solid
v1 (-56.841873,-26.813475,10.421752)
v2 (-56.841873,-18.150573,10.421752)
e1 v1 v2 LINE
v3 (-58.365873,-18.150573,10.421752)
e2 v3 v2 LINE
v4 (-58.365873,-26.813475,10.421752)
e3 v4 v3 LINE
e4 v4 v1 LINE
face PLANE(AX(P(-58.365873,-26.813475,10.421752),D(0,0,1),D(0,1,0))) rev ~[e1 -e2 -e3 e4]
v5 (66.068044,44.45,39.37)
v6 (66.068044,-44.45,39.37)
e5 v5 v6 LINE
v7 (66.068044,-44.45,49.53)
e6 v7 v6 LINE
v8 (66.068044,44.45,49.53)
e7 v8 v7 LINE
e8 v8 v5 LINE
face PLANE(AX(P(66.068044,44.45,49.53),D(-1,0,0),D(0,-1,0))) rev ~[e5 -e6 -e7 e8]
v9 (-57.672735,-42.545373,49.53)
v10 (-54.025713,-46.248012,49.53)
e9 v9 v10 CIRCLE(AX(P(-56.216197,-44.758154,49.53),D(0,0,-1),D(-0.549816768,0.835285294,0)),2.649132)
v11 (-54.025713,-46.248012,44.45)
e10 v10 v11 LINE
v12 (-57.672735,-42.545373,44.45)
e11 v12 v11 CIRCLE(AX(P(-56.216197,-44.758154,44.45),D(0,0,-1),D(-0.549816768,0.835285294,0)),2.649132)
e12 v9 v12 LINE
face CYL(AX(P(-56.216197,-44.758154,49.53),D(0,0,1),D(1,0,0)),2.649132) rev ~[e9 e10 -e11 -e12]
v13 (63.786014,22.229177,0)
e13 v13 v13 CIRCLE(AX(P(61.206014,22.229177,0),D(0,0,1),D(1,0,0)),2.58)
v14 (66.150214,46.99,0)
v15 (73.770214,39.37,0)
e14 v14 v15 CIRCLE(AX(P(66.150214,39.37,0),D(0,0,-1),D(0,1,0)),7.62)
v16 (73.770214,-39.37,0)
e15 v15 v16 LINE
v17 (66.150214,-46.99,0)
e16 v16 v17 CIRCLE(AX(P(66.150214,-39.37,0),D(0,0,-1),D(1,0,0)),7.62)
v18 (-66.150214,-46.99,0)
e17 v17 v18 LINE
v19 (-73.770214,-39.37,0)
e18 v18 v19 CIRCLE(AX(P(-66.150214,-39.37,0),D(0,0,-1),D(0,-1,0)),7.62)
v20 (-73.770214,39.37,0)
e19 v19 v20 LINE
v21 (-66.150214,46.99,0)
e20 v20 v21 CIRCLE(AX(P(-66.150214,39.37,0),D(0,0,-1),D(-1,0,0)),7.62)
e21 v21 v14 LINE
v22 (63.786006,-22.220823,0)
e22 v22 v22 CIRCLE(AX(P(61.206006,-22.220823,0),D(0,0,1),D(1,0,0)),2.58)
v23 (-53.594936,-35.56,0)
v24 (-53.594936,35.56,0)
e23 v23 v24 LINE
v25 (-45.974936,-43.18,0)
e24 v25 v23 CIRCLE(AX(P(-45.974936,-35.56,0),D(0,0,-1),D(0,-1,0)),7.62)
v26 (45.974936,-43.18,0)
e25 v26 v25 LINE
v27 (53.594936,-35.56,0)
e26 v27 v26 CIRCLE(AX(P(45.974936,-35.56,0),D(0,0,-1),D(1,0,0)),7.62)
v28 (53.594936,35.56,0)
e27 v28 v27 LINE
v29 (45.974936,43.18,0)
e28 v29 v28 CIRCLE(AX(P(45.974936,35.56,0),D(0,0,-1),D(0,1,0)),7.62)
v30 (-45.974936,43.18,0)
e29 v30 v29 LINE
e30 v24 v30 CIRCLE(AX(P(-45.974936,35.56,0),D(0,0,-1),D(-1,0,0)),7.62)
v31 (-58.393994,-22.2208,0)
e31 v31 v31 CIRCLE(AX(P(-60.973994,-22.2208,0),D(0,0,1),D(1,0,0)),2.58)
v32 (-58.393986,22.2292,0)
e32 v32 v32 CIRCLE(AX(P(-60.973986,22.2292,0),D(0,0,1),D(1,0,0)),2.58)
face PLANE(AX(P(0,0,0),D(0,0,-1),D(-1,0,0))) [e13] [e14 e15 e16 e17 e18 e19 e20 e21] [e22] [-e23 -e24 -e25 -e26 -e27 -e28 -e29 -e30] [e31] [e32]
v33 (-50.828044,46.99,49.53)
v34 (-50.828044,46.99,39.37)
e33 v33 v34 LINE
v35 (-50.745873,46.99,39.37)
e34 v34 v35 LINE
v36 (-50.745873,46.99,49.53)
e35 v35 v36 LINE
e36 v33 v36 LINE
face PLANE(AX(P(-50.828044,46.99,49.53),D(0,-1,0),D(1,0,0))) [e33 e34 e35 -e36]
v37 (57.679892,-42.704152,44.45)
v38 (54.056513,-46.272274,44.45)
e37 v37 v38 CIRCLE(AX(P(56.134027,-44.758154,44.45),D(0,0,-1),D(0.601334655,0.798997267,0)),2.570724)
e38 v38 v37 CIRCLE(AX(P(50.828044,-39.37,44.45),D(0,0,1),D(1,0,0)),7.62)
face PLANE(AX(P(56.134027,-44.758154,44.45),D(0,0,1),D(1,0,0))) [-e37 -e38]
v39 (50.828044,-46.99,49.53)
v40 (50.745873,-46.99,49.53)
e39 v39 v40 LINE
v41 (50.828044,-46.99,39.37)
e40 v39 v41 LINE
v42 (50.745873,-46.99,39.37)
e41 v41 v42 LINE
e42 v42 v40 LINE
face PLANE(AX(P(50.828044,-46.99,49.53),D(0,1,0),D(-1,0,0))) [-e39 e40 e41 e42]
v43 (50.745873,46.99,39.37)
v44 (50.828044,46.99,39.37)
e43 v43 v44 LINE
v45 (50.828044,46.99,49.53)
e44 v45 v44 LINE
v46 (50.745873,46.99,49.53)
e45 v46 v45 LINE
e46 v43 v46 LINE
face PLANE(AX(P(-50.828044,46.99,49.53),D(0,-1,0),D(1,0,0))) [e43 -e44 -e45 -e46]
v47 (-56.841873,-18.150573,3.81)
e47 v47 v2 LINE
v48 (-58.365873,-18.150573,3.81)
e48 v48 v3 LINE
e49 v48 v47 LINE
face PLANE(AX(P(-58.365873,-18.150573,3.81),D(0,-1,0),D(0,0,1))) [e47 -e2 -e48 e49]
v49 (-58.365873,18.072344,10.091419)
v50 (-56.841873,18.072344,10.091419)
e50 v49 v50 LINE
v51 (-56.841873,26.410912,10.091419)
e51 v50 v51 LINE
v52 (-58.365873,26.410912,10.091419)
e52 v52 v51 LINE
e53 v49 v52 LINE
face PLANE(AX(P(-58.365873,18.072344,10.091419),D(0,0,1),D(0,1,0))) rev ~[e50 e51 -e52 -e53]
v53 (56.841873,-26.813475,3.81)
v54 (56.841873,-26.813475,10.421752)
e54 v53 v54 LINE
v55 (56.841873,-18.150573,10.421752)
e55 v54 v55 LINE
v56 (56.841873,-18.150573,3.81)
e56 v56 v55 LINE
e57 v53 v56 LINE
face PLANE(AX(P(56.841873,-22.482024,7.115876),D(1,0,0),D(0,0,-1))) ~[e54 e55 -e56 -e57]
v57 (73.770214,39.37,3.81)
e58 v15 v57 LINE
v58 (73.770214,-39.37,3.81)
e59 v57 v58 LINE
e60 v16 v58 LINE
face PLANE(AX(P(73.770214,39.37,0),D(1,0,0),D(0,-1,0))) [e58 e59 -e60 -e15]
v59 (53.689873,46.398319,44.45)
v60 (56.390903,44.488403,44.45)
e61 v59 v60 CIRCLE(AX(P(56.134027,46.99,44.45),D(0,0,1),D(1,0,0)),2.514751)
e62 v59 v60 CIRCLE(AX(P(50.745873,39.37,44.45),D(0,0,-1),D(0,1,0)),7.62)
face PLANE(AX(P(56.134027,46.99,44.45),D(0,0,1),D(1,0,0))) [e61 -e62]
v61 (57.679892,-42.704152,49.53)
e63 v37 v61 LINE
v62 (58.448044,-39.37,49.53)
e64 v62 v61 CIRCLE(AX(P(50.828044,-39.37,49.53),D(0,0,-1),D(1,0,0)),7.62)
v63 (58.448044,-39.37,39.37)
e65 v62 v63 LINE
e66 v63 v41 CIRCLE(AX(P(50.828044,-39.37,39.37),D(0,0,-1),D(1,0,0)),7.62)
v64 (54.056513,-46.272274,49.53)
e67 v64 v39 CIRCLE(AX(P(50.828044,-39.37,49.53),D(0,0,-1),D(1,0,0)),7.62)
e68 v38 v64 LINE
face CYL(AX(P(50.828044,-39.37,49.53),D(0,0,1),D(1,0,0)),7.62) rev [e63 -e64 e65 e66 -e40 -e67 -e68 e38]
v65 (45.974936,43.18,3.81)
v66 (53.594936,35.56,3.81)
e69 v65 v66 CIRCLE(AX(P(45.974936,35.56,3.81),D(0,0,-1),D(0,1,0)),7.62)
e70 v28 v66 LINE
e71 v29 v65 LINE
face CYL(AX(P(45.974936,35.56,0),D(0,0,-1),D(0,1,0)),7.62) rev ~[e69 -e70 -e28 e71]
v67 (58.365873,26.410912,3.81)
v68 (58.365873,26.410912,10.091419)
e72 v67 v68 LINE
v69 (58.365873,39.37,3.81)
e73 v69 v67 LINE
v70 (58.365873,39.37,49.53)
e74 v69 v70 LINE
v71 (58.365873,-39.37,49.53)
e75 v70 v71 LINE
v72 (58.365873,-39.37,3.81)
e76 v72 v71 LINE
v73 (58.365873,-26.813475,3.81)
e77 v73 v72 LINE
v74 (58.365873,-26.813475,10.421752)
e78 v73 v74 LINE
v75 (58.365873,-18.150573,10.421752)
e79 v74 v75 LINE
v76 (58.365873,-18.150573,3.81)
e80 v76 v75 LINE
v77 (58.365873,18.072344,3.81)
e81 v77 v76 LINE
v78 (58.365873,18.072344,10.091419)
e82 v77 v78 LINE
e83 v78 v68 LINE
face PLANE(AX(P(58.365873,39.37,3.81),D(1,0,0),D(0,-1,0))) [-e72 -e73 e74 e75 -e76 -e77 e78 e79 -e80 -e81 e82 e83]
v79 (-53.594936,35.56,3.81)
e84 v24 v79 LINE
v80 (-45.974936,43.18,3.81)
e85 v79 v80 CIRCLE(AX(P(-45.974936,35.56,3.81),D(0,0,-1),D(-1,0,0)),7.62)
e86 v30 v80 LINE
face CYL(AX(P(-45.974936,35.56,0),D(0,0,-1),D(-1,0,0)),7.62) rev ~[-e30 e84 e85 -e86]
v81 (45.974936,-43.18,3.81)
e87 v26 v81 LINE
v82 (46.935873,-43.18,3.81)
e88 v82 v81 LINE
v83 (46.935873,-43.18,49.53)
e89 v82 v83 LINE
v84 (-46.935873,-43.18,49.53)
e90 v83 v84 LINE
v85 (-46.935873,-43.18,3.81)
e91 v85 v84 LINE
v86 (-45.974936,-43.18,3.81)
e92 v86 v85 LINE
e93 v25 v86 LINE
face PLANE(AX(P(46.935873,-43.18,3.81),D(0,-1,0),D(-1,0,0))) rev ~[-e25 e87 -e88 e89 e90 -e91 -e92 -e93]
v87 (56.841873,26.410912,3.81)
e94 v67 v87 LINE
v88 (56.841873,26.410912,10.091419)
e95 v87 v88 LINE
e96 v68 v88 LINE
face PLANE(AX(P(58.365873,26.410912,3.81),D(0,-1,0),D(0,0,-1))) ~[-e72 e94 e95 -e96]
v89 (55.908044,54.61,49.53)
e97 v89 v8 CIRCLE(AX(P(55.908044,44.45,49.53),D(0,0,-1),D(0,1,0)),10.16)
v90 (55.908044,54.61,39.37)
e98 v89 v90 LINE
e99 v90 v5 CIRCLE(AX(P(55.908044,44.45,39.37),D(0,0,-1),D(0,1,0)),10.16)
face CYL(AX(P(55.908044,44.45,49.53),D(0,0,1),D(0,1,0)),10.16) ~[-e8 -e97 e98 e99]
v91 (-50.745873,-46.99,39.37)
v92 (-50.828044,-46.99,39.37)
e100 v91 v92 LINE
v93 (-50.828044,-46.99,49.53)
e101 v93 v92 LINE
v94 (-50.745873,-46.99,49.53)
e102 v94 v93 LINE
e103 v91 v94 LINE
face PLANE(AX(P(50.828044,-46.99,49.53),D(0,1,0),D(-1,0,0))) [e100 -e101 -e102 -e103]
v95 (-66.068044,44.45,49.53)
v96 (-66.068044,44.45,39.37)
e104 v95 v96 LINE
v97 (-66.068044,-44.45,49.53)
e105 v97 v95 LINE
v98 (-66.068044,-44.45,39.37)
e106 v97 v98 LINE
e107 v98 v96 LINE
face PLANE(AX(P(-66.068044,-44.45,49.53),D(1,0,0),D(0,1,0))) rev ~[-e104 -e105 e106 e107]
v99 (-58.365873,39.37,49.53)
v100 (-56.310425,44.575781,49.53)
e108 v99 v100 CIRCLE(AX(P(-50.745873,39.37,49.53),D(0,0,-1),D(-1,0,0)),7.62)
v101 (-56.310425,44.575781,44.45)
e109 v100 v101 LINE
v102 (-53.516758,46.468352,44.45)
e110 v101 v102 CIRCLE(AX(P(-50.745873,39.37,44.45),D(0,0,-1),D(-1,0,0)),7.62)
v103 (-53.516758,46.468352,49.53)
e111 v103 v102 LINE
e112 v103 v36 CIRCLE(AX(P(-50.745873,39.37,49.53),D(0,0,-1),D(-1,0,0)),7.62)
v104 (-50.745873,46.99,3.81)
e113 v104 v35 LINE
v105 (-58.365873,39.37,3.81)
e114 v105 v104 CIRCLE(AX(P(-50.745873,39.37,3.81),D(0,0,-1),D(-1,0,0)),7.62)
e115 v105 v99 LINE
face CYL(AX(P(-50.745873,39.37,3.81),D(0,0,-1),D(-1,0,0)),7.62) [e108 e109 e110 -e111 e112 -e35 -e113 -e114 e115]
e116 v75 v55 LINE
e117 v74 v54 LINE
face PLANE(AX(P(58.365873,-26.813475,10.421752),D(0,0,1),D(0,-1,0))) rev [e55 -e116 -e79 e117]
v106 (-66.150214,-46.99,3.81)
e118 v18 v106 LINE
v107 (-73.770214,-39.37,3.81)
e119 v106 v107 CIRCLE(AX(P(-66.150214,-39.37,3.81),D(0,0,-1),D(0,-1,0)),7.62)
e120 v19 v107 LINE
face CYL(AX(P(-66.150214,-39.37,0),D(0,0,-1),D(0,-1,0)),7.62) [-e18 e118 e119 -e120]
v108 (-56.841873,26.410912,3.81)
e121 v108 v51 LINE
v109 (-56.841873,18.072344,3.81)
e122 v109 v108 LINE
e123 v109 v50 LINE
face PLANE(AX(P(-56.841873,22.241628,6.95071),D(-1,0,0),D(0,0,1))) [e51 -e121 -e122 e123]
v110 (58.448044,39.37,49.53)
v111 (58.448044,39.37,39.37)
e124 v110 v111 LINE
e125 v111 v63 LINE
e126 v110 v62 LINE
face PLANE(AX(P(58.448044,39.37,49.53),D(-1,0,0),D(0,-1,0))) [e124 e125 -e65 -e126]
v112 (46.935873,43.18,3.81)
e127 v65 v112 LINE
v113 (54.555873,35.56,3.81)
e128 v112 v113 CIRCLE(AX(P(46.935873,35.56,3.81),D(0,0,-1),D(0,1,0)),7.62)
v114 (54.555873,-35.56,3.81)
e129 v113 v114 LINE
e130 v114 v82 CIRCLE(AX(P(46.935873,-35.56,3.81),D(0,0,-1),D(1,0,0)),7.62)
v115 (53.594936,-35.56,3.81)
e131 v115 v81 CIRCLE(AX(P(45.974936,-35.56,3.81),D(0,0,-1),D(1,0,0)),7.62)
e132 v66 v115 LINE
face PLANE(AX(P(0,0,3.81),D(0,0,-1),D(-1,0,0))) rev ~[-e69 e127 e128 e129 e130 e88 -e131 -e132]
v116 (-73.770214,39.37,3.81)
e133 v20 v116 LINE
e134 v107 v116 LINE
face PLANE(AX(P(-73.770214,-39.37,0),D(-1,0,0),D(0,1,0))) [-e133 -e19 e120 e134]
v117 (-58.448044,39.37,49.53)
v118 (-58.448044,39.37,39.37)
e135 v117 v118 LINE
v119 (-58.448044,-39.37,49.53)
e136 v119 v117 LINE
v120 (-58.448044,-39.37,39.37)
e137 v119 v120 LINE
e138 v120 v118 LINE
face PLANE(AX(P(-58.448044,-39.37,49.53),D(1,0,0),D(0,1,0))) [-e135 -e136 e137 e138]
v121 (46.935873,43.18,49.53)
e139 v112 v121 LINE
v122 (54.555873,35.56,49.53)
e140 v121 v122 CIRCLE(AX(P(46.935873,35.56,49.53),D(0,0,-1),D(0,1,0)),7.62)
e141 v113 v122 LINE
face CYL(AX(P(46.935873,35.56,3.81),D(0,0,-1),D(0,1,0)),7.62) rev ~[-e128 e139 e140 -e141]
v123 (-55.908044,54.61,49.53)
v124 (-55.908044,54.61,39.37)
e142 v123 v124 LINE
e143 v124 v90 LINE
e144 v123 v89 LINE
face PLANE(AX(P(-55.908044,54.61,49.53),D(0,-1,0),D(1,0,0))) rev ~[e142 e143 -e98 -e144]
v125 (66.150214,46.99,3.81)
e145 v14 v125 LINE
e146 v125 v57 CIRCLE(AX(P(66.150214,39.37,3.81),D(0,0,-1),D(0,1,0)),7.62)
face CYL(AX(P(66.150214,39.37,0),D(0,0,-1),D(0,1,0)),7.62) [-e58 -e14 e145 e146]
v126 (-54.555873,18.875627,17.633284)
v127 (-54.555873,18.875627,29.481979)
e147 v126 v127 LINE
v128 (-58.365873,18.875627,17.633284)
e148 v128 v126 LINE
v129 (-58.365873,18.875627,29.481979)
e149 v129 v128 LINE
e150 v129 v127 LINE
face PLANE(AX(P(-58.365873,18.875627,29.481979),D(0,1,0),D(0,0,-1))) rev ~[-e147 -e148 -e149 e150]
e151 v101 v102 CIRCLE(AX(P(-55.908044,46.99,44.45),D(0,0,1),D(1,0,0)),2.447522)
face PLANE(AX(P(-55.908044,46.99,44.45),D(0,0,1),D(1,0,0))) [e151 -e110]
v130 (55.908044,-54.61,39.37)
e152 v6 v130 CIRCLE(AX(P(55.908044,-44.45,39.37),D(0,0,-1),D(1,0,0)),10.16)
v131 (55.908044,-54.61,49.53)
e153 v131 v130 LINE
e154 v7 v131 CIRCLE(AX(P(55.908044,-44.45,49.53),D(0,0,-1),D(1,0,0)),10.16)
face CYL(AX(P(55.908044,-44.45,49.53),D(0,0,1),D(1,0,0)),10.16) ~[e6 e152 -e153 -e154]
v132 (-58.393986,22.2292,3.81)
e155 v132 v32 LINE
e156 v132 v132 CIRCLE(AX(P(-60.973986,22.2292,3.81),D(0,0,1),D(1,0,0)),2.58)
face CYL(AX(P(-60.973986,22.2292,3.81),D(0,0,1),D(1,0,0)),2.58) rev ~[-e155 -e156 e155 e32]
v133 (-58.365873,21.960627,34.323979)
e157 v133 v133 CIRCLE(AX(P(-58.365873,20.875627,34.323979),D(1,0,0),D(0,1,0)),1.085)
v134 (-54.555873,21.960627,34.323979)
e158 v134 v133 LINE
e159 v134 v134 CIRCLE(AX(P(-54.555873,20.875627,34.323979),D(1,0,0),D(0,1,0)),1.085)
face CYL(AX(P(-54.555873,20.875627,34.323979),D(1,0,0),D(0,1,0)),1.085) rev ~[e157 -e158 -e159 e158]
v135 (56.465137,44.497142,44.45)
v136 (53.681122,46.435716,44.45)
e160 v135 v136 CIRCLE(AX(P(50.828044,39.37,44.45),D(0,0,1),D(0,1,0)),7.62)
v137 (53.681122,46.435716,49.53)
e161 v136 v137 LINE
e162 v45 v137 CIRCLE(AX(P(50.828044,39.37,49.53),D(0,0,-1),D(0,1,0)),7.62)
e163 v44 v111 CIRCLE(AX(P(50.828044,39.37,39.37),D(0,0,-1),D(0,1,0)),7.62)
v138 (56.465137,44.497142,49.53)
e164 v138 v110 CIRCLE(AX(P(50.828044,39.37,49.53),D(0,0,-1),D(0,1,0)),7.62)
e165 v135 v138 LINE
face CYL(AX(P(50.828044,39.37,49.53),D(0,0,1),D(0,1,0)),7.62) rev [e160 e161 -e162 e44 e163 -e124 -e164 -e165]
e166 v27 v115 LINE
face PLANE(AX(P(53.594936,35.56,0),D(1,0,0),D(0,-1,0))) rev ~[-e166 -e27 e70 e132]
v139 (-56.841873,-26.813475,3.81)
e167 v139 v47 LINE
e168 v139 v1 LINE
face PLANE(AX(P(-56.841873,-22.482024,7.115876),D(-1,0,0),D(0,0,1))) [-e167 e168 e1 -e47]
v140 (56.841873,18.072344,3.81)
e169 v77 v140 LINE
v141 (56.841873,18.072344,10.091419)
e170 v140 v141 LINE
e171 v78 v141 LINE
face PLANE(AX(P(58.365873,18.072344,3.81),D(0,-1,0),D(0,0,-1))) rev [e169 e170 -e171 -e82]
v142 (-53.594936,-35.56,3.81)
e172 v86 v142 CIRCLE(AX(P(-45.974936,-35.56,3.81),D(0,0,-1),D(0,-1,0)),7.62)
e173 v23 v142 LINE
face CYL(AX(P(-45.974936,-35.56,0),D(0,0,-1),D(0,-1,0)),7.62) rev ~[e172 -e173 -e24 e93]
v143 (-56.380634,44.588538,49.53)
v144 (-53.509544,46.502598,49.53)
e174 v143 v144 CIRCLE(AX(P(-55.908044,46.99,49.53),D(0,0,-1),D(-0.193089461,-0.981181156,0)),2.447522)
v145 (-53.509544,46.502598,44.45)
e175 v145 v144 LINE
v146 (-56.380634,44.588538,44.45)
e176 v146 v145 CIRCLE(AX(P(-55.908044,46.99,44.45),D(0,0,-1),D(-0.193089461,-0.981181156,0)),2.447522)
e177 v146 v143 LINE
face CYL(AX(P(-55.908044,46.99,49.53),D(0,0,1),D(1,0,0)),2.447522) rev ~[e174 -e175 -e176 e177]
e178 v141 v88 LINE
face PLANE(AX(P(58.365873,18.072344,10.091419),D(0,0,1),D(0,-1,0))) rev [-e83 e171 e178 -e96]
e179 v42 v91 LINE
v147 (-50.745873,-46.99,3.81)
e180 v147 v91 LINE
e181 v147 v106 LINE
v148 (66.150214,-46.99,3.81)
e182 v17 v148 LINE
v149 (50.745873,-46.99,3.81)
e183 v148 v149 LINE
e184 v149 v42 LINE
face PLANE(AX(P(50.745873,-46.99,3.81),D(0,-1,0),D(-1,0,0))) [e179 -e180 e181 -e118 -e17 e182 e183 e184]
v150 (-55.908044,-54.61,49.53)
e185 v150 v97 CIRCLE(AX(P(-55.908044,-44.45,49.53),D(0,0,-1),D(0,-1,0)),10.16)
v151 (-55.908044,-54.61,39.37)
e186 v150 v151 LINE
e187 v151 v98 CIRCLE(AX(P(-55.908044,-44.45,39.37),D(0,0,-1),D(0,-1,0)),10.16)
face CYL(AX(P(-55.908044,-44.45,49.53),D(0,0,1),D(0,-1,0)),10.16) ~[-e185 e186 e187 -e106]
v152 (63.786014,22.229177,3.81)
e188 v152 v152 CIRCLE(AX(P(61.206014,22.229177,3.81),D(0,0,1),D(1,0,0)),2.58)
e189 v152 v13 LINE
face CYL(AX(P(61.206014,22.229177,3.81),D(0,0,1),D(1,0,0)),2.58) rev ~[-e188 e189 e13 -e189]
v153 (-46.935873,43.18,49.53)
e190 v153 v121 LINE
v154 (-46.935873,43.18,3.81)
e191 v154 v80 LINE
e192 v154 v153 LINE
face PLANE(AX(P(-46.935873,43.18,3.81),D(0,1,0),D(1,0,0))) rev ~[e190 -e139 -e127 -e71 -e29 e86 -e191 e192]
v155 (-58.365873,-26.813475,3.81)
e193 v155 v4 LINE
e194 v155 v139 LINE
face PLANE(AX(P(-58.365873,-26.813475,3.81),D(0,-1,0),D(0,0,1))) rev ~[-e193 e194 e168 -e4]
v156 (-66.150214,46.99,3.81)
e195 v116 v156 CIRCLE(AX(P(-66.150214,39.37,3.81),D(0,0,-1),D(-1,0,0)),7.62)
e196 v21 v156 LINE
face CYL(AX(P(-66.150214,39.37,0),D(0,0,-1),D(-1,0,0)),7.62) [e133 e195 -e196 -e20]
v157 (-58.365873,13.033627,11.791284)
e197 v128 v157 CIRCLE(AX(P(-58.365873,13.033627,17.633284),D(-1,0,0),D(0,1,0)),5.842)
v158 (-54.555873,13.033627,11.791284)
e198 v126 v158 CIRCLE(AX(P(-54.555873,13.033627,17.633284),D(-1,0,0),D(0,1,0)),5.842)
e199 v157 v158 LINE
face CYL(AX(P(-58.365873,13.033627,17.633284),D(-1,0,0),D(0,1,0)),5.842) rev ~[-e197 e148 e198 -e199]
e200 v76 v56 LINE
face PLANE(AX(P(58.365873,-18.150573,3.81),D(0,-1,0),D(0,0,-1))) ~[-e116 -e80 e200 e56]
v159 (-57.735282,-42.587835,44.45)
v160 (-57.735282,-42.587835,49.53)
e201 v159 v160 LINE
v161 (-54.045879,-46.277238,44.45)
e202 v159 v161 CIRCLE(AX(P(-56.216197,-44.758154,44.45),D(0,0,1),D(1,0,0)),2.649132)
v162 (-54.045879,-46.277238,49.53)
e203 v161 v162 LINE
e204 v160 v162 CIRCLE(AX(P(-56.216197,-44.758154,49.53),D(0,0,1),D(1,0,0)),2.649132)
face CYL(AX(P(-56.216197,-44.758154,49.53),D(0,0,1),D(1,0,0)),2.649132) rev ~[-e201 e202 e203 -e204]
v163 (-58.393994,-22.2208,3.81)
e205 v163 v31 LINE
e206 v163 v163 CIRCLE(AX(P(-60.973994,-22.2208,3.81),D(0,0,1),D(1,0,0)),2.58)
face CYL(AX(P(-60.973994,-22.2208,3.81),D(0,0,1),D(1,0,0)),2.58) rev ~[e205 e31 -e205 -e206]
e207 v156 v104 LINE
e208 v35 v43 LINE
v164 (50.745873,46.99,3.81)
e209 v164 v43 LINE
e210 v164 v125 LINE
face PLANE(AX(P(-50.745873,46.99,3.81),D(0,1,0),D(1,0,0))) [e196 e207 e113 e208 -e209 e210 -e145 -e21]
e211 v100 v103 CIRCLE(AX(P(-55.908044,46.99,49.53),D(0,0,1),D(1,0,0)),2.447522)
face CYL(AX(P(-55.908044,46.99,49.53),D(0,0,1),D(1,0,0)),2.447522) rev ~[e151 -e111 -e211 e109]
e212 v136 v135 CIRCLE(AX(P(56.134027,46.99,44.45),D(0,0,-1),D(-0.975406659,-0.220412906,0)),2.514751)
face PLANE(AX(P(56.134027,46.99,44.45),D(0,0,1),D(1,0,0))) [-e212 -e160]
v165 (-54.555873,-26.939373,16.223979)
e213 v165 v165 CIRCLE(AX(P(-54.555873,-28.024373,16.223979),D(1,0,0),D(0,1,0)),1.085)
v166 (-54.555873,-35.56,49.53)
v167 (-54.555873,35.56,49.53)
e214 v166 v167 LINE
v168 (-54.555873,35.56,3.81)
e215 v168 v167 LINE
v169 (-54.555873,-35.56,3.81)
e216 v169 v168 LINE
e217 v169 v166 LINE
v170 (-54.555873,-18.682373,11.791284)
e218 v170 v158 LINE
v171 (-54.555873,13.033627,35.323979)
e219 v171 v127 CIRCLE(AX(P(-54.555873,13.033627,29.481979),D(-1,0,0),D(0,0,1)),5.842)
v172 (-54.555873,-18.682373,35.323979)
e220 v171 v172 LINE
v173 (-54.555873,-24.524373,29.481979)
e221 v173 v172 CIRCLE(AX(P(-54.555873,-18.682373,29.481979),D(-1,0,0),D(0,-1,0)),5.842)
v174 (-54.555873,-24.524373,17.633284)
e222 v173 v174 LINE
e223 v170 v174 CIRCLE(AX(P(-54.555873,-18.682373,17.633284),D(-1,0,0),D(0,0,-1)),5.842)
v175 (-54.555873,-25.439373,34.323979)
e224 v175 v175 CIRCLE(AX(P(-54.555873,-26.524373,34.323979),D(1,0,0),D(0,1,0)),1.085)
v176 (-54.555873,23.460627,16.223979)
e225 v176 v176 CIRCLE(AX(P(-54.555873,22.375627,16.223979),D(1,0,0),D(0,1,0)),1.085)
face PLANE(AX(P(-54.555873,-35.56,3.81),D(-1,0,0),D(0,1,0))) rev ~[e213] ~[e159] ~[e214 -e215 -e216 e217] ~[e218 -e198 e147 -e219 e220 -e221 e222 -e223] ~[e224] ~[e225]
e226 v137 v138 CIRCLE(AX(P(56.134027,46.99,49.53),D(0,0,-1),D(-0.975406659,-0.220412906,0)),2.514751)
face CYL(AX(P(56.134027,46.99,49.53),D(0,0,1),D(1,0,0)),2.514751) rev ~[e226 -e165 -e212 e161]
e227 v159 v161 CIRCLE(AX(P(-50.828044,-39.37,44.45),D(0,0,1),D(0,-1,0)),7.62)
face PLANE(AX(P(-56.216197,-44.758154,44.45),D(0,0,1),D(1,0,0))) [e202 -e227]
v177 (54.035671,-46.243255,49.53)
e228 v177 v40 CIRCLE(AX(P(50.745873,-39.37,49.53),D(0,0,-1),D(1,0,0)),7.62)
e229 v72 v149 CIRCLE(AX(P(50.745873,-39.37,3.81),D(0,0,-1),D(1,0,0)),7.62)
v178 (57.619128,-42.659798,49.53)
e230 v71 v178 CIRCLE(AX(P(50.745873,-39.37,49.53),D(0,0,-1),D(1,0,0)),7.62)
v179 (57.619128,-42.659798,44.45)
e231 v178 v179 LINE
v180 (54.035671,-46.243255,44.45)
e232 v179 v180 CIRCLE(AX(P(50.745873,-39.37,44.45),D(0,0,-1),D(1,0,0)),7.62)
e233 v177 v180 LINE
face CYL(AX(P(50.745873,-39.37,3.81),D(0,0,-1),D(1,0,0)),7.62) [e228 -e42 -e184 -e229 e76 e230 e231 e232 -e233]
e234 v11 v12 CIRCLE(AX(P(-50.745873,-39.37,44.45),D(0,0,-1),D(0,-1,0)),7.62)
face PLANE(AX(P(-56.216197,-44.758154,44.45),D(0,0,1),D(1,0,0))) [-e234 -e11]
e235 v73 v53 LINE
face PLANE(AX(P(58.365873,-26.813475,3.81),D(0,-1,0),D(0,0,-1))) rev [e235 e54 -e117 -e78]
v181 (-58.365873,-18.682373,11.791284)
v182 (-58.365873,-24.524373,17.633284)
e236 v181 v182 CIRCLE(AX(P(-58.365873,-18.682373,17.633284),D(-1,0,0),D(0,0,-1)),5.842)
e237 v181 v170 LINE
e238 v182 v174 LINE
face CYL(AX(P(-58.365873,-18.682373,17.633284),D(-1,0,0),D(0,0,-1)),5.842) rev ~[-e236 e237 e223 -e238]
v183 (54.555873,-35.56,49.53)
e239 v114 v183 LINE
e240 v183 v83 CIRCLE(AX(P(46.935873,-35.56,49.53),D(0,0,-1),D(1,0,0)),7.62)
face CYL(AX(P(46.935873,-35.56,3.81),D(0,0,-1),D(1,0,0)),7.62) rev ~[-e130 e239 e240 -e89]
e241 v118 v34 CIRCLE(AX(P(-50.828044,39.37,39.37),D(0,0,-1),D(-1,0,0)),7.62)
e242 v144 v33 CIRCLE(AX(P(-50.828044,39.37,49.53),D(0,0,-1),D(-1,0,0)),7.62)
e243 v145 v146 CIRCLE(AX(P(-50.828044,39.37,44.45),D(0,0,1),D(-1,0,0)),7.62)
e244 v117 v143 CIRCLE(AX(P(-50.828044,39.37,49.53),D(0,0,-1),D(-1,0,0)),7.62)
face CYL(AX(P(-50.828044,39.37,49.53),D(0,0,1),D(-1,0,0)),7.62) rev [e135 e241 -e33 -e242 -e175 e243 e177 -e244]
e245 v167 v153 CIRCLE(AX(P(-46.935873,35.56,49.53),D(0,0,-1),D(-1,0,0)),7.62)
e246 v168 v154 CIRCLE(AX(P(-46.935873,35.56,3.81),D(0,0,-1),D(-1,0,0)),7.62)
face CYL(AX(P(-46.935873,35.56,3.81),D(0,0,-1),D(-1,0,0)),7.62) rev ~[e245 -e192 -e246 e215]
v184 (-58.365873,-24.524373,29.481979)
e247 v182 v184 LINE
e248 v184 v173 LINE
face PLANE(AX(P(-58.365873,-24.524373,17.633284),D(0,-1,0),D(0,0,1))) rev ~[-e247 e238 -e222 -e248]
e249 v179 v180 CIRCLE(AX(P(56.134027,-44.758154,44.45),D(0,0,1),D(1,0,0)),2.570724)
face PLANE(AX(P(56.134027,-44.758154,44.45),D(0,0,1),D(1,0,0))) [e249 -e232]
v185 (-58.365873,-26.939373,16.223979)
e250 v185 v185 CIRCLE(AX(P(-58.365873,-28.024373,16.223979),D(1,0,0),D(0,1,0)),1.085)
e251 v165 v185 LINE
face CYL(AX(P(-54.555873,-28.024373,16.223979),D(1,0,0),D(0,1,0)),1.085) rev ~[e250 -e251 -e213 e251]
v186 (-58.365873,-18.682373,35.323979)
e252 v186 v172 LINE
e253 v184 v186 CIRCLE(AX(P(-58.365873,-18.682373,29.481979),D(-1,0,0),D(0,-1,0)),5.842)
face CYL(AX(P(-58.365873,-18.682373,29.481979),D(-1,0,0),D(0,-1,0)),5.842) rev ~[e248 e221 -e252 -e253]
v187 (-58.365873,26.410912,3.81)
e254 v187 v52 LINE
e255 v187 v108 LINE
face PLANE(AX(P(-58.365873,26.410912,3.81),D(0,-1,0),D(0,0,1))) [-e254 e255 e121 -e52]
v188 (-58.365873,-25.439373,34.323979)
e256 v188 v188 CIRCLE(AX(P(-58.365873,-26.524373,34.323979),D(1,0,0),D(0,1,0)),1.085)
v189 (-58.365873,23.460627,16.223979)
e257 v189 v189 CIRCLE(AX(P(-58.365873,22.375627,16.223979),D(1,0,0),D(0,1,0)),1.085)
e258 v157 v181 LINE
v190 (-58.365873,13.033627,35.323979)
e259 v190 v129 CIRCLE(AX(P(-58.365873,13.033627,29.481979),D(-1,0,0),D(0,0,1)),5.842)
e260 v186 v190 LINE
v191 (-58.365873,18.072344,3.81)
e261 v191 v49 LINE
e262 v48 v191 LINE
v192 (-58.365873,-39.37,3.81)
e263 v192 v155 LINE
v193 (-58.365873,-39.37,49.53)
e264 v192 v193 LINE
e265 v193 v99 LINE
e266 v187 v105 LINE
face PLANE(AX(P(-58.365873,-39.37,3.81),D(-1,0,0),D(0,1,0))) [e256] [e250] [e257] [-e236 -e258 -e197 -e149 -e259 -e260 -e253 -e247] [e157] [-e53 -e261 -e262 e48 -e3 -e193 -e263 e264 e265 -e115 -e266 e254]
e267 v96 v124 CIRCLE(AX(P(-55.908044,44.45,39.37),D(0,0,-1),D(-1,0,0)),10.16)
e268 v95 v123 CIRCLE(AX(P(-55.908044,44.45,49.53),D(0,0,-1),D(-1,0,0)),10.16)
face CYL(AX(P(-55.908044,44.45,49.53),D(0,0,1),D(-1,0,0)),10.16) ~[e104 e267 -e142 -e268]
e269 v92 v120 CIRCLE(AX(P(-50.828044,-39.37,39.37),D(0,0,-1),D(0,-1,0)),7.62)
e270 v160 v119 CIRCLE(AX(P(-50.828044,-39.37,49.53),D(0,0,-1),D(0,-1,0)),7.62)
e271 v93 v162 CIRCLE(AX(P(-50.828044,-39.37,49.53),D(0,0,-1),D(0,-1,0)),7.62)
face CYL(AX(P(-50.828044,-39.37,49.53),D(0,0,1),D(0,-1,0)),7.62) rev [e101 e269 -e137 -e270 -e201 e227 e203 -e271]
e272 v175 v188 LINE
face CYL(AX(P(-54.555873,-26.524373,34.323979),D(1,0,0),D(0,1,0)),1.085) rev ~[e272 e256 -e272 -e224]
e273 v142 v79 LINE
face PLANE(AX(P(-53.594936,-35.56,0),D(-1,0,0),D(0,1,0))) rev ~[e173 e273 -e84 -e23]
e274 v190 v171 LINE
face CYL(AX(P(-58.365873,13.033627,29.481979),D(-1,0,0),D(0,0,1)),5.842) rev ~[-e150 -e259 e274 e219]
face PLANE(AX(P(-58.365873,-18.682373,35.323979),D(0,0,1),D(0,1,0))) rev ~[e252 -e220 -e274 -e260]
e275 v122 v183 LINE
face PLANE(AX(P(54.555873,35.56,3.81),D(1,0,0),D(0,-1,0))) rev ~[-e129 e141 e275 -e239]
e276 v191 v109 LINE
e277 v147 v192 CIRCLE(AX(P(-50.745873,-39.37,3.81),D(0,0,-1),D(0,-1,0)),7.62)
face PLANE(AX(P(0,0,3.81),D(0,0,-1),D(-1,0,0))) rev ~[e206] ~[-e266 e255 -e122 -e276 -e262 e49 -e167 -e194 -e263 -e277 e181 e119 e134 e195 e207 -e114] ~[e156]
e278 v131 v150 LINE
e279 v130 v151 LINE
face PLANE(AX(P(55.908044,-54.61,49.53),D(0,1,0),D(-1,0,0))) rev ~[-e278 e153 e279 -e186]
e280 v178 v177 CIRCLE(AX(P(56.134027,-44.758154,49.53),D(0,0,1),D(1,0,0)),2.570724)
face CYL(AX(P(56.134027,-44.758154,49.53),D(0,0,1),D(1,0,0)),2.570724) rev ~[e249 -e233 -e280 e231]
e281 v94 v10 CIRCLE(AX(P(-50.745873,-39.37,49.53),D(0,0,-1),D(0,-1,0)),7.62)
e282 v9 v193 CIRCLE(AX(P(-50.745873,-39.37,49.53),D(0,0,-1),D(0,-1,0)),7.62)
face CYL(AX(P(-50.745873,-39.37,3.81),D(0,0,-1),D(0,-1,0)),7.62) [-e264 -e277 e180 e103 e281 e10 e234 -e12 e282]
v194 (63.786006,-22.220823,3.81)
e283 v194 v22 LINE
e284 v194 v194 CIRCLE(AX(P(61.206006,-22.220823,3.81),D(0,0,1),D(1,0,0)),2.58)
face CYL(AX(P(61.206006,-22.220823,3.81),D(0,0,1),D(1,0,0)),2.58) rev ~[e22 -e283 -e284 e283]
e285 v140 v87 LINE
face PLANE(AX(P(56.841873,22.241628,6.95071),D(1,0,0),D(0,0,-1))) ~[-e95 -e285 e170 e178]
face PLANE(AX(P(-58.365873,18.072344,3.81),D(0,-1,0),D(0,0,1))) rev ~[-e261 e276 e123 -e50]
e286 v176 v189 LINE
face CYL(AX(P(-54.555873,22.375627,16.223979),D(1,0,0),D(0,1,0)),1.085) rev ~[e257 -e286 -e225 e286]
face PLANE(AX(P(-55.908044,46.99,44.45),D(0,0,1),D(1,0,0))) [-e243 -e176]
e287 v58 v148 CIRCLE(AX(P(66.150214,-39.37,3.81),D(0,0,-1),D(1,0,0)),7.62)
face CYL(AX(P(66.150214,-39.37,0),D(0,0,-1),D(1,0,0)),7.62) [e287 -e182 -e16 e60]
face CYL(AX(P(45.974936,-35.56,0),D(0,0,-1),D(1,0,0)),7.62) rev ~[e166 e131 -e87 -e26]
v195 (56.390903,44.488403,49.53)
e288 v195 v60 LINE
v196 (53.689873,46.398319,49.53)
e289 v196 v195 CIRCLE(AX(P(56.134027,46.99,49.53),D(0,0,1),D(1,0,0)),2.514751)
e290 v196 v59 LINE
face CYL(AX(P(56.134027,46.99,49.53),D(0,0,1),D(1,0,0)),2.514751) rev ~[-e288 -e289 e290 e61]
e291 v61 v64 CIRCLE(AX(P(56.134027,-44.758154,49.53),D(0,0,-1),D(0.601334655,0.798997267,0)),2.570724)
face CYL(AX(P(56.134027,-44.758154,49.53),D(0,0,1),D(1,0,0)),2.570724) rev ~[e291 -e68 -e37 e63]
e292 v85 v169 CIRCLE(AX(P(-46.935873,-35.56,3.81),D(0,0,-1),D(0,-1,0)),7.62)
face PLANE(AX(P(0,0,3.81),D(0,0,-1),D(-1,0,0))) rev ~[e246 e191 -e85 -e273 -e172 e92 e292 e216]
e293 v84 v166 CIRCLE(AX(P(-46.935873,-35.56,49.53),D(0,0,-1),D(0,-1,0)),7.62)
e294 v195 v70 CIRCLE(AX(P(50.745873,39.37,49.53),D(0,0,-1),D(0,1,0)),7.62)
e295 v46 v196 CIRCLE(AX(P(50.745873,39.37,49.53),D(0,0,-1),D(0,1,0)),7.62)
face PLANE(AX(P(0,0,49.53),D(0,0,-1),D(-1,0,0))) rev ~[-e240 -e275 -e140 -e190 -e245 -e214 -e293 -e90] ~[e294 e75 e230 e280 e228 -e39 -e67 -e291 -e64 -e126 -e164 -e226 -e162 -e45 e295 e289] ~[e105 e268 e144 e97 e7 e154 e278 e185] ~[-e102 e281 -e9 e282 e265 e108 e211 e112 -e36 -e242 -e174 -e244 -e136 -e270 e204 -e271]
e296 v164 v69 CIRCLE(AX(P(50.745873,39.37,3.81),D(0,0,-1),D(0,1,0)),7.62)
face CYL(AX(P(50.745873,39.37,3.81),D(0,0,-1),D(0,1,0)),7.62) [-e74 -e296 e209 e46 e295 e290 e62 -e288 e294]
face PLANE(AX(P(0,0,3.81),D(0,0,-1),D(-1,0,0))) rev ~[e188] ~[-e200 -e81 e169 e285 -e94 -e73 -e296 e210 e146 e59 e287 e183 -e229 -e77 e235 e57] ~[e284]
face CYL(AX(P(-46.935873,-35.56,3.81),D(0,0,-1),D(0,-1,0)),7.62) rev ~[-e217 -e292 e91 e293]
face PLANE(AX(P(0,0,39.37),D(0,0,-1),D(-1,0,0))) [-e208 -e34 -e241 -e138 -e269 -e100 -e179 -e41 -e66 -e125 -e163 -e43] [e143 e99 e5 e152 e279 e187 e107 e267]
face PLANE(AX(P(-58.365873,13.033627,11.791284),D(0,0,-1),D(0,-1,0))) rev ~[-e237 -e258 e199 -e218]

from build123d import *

# Parameters (mm, degrees)
BOSS_EXTRUDE1_DEPTH = 3.81
BOSS_EXTRUDE2_DEPTH = 45.72
CUT_EXTRUDE1_REACH  = 100.694
SKETCH4_R           = 2.58
CUT_EXTRUDE2_REACH  = 150.732
CUT_EXTRUDE3_REACH  = 147.358
SKETCH8_R           = 1.085
SKETCH10_W          = 6.281419417
SKETCH10_H          = 8.338567611
SKETCH10_W_2        = 6.611751911
SKETCH10_H_2        = 8.662901092
CUT_EXTRUDE4_DEPTH  = 1.524
BOSS_EXTRUDE3_DEPTH = 10.16
SKETCH12_R          = 2.447521694
SKETCH12_R_2        = 2.570723965
SKETCH12_R_3        = 2.649131916
SKETCH12_R_4        = 2.514751493
CUT_EXTRUDE5_DEPTH  = 5.08


with BuildPart() as part:
    # Sketch1 → Boss-Extrude1 (new body)
    with BuildSketch(Plane.XY):
        with BuildLine():
            Line((66.150214266, -46.99), (-66.150214266, -46.99))
            ThreePointArc((-66.150214266, -46.99), (-71.538367938, -44.758153673), (-73.770214266, -39.37))
            Line((-73.770214266, -39.37), (-73.770214266, 39.37))
            ThreePointArc((-73.770214266, 39.37), (-71.538367938, 44.758153673), (-66.150214266, 46.99))
            Line((-66.150214266, 46.99), (66.150214266, 46.99))
            ThreePointArc((66.150214266, 46.99), (71.538367938, 44.758153673), (73.770214266, 39.37))
            Line((73.770214266, 39.37), (73.770214266, -39.37))
            ThreePointArc((73.770214266, -39.37), (71.538367938, -44.758153673), (66.150214266, -46.99))
        make_face()
        with BuildLine():
            Line((45.974935849, -43.18), (-45.974935849, -43.18))
            ThreePointArc((-45.974935849, -43.18), (-51.363089522, -40.948153673), (-53.594935849, -35.56))
            Line((-53.594935849, -35.56), (-53.594935849, 35.56))
            ThreePointArc((-53.594935849, 35.56), (-51.363089522, 40.948153673), (-45.974935849, 43.18))
            Line((-45.974935849, 43.18), (45.974935849, 43.18))
            ThreePointArc((45.974935849, 43.18), (51.363089522, 40.948153673), (53.594935849, 35.56))
            Line((53.594935849, 35.56), (53.594935849, -35.56))
            ThreePointArc((53.594935849, -35.56), (51.363089522, -40.948153673), (45.974935849, -43.18))
        make_face(mode=Mode.SUBTRACT)
    extrude(amount=BOSS_EXTRUDE1_DEPTH)

    # Sketch2 → Boss-Extrude2 (add)
    with BuildSketch(Plane.XY.offset(3.81)):
        with BuildLine():
            Line((50.745873235, -46.99), (-50.745873235, -46.99))
            ThreePointArc((-50.745873235, -46.99), (-56.134026908, -44.758153673), (-58.365873235, -39.37))
            Line((-58.365873235, -39.37), (-58.365873235, 39.37))
            ThreePointArc((-58.365873235, 39.37), (-56.134026908, 44.758153673), (-50.745873235, 46.99))
            Line((-50.745873235, 46.99), (50.745873235, 46.99))
            ThreePointArc((50.745873235, 46.99), (56.134026908, 44.758153673), (58.365873235, 39.37))
            Line((58.365873235, 39.37), (58.365873235, -39.37))
            ThreePointArc((58.365873235, -39.37), (56.134026908, -44.758153673), (50.745873235, -46.99))
        make_face()
        with BuildLine():
            Line((46.935873235, -43.18), (-46.935873235, -43.18))
            ThreePointArc((-46.935873235, -43.18), (-52.324026908, -40.948153673), (-54.555873235, -35.56))
            Line((-54.555873235, -35.56), (-54.555873235, 35.56))
            ThreePointArc((-54.555873235, 35.56), (-52.324026908, 40.948153673), (-46.935873235, 43.18))
            Line((-46.935873235, 43.18), (46.935873235, 43.18))
            ThreePointArc((46.935873235, 43.18), (52.324026908, 40.948153673), (54.555873235, 35.56))
            Line((54.555873235, 35.56), (54.555873235, -35.56))
            ThreePointArc((54.555873235, -35.56), (52.324026908, -40.948153673), (46.935873235, -43.18))
        make_face(mode=Mode.SUBTRACT)
    extrude(amount=BOSS_EXTRUDE2_DEPTH)

    # Sketch4 → Cut-Extrude1 (cut, up to next)
    with BuildSketch(Plane.XY.offset(3.81), mode=Mode.PRIVATE) as cut_extrude1_sk1:
        with Locations((61.206014266, 22.22917718)):
            Circle(SKETCH4_R)
    cut_extrude1_tool1 = extrude(cut_extrude1_sk1.sketch, amount=-CUT_EXTRUDE1_REACH, mode=Mode.PRIVATE) & part.part
    # Sketch4 → Cut-Extrude1 (cut, up to next)
    with BuildSketch(Plane.XY.offset(3.81), mode=Mode.PRIVATE) as cut_extrude1_sk2:
        with Locations((61.206005964, -22.22082282)):
            Circle(SKETCH4_R)
    cut_extrude1_tool2 = extrude(cut_extrude1_sk2.sketch, amount=-CUT_EXTRUDE1_REACH, mode=Mode.PRIVATE) & part.part
    # Sketch4 → Cut-Extrude1 (cut, up to next)
    with BuildSketch(Plane.XY.offset(3.81), mode=Mode.PRIVATE) as cut_extrude1_sk3:
        with Locations((-60.973994036, -22.2208)):
            Circle(SKETCH4_R)
    cut_extrude1_tool3 = extrude(cut_extrude1_sk3.sketch, amount=-CUT_EXTRUDE1_REACH, mode=Mode.PRIVATE) & part.part
    # Sketch4 → Cut-Extrude1 (cut, up to next)
    with BuildSketch(Plane.XY.offset(3.81), mode=Mode.PRIVATE) as cut_extrude1_sk4:
        with Locations((-60.973985734, 22.2292)):
            Circle(SKETCH4_R)
    cut_extrude1_tool4 = extrude(cut_extrude1_sk4.sketch, amount=-CUT_EXTRUDE1_REACH, mode=Mode.PRIVATE) & part.part
    add(cut_extrude1_tool1.solids().sort_by_distance((61.206014, 22.229177, 3.81))[0], mode=Mode.SUBTRACT)
    add(cut_extrude1_tool2.solids().sort_by_distance((61.206006, -22.220823, 3.81))[0], mode=Mode.SUBTRACT)
    add(cut_extrude1_tool3.solids().sort_by_distance((-60.973994, -22.2208, 3.81))[0], mode=Mode.SUBTRACT)
    add(cut_extrude1_tool4.solids().sort_by_distance((-60.973986, 22.2292, 3.81))[0], mode=Mode.SUBTRACT)

    # Sketch7 → Cut-Extrude2 (cut, up to next)
    with BuildSketch(Plane.ZY.offset(58.365873235), mode=Mode.PRIVATE) as cut_extrude2_sk1:
        with BuildLine():
            Line((11.791283781, 13.03362733), (11.791283781, -18.68237267))
            ThreePointArc((11.791283781, -18.68237267), (13.502365966, -22.813290486), (17.633283781, -24.52437267))
            Line((17.633283781, -24.52437267), (29.481979429, -24.52437267))
            ThreePointArc((29.481979429, -24.52437267), (33.612897244, -22.813290486), (35.323979429, -18.68237267))
            Line((35.323979429, -18.68237267), (35.323979429, 13.03362733))
            ThreePointArc((35.323979429, 13.03362733), (33.612897244, 17.164545145), (29.481979429, 18.87562733))
            Line((29.481979429, 18.87562733), (17.633283781, 18.87562733))
            ThreePointArc((17.633283781, 18.87562733), (13.502365966, 17.164545145), (11.791283781, 13.03362733))
        make_face()
    cut_extrude2_tool1 = extrude(cut_extrude2_sk1.sketch, amount=-CUT_EXTRUDE2_REACH, mode=Mode.PRIVATE) & part.part
    add(cut_extrude2_tool1.solids().sort_by_distance((-58.365873, -2.824373, 23.557632))[0], mode=Mode.SUBTRACT)

    # Sketch8 → Cut-Extrude3 (cut, up to next)
    with BuildSketch(Plane(origin=(-54.555873235, 0, 0), x_dir=(0, 0, -1), z_dir=(1, 0, 0)), mode=Mode.PRIVATE) as cut_extrude3_sk1:
        with Locations(Location((-34.323979429, -26.52437267, 0), (0, 0, 90))):
            Circle(SKETCH8_R)
    cut_extrude3_tool1 = extrude(cut_extrude3_sk1.sketch, amount=-CUT_EXTRUDE3_REACH, mode=Mode.PRIVATE) & part.part
    # Sketch8 → Cut-Extrude3 (cut, up to next)
    with BuildSketch(Plane(origin=(-54.555873235, 0, 0), x_dir=(0, 0, -1), z_dir=(1, 0, 0)), mode=Mode.PRIVATE) as cut_extrude3_sk2:
        with Locations(Location((-16.223979429, -28.02437267, 0), (0, 0, 90))):
            Circle(SKETCH8_R)
    cut_extrude3_tool2 = extrude(cut_extrude3_sk2.sketch, amount=-CUT_EXTRUDE3_REACH, mode=Mode.PRIVATE) & part.part
    # Sketch8 → Cut-Extrude3 (cut, up to next)
    with BuildSketch(Plane(origin=(-54.555873235, 0, 0), x_dir=(0, 0, -1), z_dir=(1, 0, 0)), mode=Mode.PRIVATE) as cut_extrude3_sk3:
        with Locations(Location((-16.223979429, 22.37562733, 0), (0, 0, 90))):
            Circle(SKETCH8_R)
    cut_extrude3_tool3 = extrude(cut_extrude3_sk3.sketch, amount=-CUT_EXTRUDE3_REACH, mode=Mode.PRIVATE) & part.part
    # Sketch8 → Cut-Extrude3 (cut, up to next)
    with BuildSketch(Plane(origin=(-54.555873235, 0, 0), x_dir=(0, 0, -1), z_dir=(1, 0, 0)), mode=Mode.PRIVATE) as cut_extrude3_sk4:
        with Locations(Location((-34.323979429, 20.87562733, 0), (0, 0, 90))):
            Circle(SKETCH8_R)
    cut_extrude3_tool4 = extrude(cut_extrude3_sk4.sketch, amount=-CUT_EXTRUDE3_REACH, mode=Mode.PRIVATE) & part.part
    add(cut_extrude3_tool1.solids().sort_by_distance((-54.555873, -26.524373, 34.323979))[0], mode=Mode.SUBTRACT)
    add(cut_extrude3_tool2.solids().sort_by_distance((-54.555873, -28.024373, 16.223979))[0], mode=Mode.SUBTRACT)
    add(cut_extrude3_tool3.solids().sort_by_distance((-54.555873, 22.375627, 16.223979))[0], mode=Mode.SUBTRACT)
    add(cut_extrude3_tool4.solids().sort_by_distance((-54.555873, 20.875627, 34.323979))[0], mode=Mode.SUBTRACT)

    # Sketch10 → Cut-Extrude4 (cut)
    with BuildSketch(Plane.ZY.offset(58.365873235)):
        with Locations((6.950709709, 22.241628059)):
            Rectangle(SKETCH10_W, SKETCH10_H)
        with Locations((7.115875956, -22.482023984)):
            Rectangle(SKETCH10_W_2, SKETCH10_H_2)
    cut_extrude4 = extrude(amount=-CUT_EXTRUDE4_DEPTH, mode=Mode.SUBTRACT)

    # Mirror1: Cut-Extrude4 across plane
    add(cut_extrude4.mirror(Plane.ZY), mode=Mode.SUBTRACT)

    # Sketch11 → Boss-Extrude3 (add)
    with BuildSketch(Plane.XY.offset(49.53)):
        with BuildLine():
            Line((55.90804375, -54.61), (-55.90804375, -54.61))
            ThreePointArc((-55.90804375, -54.61), (-63.092248647, -51.634204897), (-66.06804375, -44.45))
            Line((-66.06804375, -44.45), (-66.06804375, 44.45))
            ThreePointArc((-66.06804375, 44.45), (-63.092248647, 51.634204897), (-55.90804375, 54.61))
            Line((-55.90804375, 54.61), (55.90804375, 54.61))
            ThreePointArc((55.90804375, 54.61), (63.092248647, 51.634204897), (66.06804375, 44.45))
            Line((66.06804375, 44.45), (66.06804375, -44.45))
            ThreePointArc((66.06804375, -44.45), (63.092248647, -51.634204897), (55.90804375, -54.61))
        make_face()
        with BuildLine():
            Line((50.82804375, -46.99), (-50.82804375, -46.99))
            ThreePointArc((-50.82804375, -46.99), (-56.216197423, -44.758153673), (-58.44804375, -39.37))
            Line((-58.44804375, -39.37), (-58.44804375, 39.37))
            ThreePointArc((-58.44804375, 39.37), (-56.216197423, 44.758153673), (-50.82804375, 46.99))
            Line((-50.82804375, 46.99), (50.82804375, 46.99))
            ThreePointArc((50.82804375, 46.99), (56.216197423, 44.758153673), (58.44804375, 39.37))
            Line((58.44804375, 39.37), (58.44804375, -39.37))
            ThreePointArc((58.44804375, -39.37), (56.216197423, -44.758153673), (50.82804375, -46.99))
        make_face(mode=Mode.SUBTRACT)
    extrude(amount=-BOSS_EXTRUDE3_DEPTH)

    # Sketch12 → Cut-Extrude5 (cut)
    with BuildSketch(Plane.XY.offset(49.53)):
        with Locations((-55.90804375, 46.99)):
            Circle(SKETCH12_R)
        with Locations((56.134026908, -44.758153673)):
            Circle(SKETCH12_R_2)
        with Locations((-56.216197423, -44.758153673)):
            Circle(SKETCH12_R_3)
        with Locations((56.134026908, 46.99)):
            Circle(SKETCH12_R_4)
    extrude(amount=-CUT_EXTRUDE5_DEPTH, mode=Mode.SUBTRACT)


solid = part.part
